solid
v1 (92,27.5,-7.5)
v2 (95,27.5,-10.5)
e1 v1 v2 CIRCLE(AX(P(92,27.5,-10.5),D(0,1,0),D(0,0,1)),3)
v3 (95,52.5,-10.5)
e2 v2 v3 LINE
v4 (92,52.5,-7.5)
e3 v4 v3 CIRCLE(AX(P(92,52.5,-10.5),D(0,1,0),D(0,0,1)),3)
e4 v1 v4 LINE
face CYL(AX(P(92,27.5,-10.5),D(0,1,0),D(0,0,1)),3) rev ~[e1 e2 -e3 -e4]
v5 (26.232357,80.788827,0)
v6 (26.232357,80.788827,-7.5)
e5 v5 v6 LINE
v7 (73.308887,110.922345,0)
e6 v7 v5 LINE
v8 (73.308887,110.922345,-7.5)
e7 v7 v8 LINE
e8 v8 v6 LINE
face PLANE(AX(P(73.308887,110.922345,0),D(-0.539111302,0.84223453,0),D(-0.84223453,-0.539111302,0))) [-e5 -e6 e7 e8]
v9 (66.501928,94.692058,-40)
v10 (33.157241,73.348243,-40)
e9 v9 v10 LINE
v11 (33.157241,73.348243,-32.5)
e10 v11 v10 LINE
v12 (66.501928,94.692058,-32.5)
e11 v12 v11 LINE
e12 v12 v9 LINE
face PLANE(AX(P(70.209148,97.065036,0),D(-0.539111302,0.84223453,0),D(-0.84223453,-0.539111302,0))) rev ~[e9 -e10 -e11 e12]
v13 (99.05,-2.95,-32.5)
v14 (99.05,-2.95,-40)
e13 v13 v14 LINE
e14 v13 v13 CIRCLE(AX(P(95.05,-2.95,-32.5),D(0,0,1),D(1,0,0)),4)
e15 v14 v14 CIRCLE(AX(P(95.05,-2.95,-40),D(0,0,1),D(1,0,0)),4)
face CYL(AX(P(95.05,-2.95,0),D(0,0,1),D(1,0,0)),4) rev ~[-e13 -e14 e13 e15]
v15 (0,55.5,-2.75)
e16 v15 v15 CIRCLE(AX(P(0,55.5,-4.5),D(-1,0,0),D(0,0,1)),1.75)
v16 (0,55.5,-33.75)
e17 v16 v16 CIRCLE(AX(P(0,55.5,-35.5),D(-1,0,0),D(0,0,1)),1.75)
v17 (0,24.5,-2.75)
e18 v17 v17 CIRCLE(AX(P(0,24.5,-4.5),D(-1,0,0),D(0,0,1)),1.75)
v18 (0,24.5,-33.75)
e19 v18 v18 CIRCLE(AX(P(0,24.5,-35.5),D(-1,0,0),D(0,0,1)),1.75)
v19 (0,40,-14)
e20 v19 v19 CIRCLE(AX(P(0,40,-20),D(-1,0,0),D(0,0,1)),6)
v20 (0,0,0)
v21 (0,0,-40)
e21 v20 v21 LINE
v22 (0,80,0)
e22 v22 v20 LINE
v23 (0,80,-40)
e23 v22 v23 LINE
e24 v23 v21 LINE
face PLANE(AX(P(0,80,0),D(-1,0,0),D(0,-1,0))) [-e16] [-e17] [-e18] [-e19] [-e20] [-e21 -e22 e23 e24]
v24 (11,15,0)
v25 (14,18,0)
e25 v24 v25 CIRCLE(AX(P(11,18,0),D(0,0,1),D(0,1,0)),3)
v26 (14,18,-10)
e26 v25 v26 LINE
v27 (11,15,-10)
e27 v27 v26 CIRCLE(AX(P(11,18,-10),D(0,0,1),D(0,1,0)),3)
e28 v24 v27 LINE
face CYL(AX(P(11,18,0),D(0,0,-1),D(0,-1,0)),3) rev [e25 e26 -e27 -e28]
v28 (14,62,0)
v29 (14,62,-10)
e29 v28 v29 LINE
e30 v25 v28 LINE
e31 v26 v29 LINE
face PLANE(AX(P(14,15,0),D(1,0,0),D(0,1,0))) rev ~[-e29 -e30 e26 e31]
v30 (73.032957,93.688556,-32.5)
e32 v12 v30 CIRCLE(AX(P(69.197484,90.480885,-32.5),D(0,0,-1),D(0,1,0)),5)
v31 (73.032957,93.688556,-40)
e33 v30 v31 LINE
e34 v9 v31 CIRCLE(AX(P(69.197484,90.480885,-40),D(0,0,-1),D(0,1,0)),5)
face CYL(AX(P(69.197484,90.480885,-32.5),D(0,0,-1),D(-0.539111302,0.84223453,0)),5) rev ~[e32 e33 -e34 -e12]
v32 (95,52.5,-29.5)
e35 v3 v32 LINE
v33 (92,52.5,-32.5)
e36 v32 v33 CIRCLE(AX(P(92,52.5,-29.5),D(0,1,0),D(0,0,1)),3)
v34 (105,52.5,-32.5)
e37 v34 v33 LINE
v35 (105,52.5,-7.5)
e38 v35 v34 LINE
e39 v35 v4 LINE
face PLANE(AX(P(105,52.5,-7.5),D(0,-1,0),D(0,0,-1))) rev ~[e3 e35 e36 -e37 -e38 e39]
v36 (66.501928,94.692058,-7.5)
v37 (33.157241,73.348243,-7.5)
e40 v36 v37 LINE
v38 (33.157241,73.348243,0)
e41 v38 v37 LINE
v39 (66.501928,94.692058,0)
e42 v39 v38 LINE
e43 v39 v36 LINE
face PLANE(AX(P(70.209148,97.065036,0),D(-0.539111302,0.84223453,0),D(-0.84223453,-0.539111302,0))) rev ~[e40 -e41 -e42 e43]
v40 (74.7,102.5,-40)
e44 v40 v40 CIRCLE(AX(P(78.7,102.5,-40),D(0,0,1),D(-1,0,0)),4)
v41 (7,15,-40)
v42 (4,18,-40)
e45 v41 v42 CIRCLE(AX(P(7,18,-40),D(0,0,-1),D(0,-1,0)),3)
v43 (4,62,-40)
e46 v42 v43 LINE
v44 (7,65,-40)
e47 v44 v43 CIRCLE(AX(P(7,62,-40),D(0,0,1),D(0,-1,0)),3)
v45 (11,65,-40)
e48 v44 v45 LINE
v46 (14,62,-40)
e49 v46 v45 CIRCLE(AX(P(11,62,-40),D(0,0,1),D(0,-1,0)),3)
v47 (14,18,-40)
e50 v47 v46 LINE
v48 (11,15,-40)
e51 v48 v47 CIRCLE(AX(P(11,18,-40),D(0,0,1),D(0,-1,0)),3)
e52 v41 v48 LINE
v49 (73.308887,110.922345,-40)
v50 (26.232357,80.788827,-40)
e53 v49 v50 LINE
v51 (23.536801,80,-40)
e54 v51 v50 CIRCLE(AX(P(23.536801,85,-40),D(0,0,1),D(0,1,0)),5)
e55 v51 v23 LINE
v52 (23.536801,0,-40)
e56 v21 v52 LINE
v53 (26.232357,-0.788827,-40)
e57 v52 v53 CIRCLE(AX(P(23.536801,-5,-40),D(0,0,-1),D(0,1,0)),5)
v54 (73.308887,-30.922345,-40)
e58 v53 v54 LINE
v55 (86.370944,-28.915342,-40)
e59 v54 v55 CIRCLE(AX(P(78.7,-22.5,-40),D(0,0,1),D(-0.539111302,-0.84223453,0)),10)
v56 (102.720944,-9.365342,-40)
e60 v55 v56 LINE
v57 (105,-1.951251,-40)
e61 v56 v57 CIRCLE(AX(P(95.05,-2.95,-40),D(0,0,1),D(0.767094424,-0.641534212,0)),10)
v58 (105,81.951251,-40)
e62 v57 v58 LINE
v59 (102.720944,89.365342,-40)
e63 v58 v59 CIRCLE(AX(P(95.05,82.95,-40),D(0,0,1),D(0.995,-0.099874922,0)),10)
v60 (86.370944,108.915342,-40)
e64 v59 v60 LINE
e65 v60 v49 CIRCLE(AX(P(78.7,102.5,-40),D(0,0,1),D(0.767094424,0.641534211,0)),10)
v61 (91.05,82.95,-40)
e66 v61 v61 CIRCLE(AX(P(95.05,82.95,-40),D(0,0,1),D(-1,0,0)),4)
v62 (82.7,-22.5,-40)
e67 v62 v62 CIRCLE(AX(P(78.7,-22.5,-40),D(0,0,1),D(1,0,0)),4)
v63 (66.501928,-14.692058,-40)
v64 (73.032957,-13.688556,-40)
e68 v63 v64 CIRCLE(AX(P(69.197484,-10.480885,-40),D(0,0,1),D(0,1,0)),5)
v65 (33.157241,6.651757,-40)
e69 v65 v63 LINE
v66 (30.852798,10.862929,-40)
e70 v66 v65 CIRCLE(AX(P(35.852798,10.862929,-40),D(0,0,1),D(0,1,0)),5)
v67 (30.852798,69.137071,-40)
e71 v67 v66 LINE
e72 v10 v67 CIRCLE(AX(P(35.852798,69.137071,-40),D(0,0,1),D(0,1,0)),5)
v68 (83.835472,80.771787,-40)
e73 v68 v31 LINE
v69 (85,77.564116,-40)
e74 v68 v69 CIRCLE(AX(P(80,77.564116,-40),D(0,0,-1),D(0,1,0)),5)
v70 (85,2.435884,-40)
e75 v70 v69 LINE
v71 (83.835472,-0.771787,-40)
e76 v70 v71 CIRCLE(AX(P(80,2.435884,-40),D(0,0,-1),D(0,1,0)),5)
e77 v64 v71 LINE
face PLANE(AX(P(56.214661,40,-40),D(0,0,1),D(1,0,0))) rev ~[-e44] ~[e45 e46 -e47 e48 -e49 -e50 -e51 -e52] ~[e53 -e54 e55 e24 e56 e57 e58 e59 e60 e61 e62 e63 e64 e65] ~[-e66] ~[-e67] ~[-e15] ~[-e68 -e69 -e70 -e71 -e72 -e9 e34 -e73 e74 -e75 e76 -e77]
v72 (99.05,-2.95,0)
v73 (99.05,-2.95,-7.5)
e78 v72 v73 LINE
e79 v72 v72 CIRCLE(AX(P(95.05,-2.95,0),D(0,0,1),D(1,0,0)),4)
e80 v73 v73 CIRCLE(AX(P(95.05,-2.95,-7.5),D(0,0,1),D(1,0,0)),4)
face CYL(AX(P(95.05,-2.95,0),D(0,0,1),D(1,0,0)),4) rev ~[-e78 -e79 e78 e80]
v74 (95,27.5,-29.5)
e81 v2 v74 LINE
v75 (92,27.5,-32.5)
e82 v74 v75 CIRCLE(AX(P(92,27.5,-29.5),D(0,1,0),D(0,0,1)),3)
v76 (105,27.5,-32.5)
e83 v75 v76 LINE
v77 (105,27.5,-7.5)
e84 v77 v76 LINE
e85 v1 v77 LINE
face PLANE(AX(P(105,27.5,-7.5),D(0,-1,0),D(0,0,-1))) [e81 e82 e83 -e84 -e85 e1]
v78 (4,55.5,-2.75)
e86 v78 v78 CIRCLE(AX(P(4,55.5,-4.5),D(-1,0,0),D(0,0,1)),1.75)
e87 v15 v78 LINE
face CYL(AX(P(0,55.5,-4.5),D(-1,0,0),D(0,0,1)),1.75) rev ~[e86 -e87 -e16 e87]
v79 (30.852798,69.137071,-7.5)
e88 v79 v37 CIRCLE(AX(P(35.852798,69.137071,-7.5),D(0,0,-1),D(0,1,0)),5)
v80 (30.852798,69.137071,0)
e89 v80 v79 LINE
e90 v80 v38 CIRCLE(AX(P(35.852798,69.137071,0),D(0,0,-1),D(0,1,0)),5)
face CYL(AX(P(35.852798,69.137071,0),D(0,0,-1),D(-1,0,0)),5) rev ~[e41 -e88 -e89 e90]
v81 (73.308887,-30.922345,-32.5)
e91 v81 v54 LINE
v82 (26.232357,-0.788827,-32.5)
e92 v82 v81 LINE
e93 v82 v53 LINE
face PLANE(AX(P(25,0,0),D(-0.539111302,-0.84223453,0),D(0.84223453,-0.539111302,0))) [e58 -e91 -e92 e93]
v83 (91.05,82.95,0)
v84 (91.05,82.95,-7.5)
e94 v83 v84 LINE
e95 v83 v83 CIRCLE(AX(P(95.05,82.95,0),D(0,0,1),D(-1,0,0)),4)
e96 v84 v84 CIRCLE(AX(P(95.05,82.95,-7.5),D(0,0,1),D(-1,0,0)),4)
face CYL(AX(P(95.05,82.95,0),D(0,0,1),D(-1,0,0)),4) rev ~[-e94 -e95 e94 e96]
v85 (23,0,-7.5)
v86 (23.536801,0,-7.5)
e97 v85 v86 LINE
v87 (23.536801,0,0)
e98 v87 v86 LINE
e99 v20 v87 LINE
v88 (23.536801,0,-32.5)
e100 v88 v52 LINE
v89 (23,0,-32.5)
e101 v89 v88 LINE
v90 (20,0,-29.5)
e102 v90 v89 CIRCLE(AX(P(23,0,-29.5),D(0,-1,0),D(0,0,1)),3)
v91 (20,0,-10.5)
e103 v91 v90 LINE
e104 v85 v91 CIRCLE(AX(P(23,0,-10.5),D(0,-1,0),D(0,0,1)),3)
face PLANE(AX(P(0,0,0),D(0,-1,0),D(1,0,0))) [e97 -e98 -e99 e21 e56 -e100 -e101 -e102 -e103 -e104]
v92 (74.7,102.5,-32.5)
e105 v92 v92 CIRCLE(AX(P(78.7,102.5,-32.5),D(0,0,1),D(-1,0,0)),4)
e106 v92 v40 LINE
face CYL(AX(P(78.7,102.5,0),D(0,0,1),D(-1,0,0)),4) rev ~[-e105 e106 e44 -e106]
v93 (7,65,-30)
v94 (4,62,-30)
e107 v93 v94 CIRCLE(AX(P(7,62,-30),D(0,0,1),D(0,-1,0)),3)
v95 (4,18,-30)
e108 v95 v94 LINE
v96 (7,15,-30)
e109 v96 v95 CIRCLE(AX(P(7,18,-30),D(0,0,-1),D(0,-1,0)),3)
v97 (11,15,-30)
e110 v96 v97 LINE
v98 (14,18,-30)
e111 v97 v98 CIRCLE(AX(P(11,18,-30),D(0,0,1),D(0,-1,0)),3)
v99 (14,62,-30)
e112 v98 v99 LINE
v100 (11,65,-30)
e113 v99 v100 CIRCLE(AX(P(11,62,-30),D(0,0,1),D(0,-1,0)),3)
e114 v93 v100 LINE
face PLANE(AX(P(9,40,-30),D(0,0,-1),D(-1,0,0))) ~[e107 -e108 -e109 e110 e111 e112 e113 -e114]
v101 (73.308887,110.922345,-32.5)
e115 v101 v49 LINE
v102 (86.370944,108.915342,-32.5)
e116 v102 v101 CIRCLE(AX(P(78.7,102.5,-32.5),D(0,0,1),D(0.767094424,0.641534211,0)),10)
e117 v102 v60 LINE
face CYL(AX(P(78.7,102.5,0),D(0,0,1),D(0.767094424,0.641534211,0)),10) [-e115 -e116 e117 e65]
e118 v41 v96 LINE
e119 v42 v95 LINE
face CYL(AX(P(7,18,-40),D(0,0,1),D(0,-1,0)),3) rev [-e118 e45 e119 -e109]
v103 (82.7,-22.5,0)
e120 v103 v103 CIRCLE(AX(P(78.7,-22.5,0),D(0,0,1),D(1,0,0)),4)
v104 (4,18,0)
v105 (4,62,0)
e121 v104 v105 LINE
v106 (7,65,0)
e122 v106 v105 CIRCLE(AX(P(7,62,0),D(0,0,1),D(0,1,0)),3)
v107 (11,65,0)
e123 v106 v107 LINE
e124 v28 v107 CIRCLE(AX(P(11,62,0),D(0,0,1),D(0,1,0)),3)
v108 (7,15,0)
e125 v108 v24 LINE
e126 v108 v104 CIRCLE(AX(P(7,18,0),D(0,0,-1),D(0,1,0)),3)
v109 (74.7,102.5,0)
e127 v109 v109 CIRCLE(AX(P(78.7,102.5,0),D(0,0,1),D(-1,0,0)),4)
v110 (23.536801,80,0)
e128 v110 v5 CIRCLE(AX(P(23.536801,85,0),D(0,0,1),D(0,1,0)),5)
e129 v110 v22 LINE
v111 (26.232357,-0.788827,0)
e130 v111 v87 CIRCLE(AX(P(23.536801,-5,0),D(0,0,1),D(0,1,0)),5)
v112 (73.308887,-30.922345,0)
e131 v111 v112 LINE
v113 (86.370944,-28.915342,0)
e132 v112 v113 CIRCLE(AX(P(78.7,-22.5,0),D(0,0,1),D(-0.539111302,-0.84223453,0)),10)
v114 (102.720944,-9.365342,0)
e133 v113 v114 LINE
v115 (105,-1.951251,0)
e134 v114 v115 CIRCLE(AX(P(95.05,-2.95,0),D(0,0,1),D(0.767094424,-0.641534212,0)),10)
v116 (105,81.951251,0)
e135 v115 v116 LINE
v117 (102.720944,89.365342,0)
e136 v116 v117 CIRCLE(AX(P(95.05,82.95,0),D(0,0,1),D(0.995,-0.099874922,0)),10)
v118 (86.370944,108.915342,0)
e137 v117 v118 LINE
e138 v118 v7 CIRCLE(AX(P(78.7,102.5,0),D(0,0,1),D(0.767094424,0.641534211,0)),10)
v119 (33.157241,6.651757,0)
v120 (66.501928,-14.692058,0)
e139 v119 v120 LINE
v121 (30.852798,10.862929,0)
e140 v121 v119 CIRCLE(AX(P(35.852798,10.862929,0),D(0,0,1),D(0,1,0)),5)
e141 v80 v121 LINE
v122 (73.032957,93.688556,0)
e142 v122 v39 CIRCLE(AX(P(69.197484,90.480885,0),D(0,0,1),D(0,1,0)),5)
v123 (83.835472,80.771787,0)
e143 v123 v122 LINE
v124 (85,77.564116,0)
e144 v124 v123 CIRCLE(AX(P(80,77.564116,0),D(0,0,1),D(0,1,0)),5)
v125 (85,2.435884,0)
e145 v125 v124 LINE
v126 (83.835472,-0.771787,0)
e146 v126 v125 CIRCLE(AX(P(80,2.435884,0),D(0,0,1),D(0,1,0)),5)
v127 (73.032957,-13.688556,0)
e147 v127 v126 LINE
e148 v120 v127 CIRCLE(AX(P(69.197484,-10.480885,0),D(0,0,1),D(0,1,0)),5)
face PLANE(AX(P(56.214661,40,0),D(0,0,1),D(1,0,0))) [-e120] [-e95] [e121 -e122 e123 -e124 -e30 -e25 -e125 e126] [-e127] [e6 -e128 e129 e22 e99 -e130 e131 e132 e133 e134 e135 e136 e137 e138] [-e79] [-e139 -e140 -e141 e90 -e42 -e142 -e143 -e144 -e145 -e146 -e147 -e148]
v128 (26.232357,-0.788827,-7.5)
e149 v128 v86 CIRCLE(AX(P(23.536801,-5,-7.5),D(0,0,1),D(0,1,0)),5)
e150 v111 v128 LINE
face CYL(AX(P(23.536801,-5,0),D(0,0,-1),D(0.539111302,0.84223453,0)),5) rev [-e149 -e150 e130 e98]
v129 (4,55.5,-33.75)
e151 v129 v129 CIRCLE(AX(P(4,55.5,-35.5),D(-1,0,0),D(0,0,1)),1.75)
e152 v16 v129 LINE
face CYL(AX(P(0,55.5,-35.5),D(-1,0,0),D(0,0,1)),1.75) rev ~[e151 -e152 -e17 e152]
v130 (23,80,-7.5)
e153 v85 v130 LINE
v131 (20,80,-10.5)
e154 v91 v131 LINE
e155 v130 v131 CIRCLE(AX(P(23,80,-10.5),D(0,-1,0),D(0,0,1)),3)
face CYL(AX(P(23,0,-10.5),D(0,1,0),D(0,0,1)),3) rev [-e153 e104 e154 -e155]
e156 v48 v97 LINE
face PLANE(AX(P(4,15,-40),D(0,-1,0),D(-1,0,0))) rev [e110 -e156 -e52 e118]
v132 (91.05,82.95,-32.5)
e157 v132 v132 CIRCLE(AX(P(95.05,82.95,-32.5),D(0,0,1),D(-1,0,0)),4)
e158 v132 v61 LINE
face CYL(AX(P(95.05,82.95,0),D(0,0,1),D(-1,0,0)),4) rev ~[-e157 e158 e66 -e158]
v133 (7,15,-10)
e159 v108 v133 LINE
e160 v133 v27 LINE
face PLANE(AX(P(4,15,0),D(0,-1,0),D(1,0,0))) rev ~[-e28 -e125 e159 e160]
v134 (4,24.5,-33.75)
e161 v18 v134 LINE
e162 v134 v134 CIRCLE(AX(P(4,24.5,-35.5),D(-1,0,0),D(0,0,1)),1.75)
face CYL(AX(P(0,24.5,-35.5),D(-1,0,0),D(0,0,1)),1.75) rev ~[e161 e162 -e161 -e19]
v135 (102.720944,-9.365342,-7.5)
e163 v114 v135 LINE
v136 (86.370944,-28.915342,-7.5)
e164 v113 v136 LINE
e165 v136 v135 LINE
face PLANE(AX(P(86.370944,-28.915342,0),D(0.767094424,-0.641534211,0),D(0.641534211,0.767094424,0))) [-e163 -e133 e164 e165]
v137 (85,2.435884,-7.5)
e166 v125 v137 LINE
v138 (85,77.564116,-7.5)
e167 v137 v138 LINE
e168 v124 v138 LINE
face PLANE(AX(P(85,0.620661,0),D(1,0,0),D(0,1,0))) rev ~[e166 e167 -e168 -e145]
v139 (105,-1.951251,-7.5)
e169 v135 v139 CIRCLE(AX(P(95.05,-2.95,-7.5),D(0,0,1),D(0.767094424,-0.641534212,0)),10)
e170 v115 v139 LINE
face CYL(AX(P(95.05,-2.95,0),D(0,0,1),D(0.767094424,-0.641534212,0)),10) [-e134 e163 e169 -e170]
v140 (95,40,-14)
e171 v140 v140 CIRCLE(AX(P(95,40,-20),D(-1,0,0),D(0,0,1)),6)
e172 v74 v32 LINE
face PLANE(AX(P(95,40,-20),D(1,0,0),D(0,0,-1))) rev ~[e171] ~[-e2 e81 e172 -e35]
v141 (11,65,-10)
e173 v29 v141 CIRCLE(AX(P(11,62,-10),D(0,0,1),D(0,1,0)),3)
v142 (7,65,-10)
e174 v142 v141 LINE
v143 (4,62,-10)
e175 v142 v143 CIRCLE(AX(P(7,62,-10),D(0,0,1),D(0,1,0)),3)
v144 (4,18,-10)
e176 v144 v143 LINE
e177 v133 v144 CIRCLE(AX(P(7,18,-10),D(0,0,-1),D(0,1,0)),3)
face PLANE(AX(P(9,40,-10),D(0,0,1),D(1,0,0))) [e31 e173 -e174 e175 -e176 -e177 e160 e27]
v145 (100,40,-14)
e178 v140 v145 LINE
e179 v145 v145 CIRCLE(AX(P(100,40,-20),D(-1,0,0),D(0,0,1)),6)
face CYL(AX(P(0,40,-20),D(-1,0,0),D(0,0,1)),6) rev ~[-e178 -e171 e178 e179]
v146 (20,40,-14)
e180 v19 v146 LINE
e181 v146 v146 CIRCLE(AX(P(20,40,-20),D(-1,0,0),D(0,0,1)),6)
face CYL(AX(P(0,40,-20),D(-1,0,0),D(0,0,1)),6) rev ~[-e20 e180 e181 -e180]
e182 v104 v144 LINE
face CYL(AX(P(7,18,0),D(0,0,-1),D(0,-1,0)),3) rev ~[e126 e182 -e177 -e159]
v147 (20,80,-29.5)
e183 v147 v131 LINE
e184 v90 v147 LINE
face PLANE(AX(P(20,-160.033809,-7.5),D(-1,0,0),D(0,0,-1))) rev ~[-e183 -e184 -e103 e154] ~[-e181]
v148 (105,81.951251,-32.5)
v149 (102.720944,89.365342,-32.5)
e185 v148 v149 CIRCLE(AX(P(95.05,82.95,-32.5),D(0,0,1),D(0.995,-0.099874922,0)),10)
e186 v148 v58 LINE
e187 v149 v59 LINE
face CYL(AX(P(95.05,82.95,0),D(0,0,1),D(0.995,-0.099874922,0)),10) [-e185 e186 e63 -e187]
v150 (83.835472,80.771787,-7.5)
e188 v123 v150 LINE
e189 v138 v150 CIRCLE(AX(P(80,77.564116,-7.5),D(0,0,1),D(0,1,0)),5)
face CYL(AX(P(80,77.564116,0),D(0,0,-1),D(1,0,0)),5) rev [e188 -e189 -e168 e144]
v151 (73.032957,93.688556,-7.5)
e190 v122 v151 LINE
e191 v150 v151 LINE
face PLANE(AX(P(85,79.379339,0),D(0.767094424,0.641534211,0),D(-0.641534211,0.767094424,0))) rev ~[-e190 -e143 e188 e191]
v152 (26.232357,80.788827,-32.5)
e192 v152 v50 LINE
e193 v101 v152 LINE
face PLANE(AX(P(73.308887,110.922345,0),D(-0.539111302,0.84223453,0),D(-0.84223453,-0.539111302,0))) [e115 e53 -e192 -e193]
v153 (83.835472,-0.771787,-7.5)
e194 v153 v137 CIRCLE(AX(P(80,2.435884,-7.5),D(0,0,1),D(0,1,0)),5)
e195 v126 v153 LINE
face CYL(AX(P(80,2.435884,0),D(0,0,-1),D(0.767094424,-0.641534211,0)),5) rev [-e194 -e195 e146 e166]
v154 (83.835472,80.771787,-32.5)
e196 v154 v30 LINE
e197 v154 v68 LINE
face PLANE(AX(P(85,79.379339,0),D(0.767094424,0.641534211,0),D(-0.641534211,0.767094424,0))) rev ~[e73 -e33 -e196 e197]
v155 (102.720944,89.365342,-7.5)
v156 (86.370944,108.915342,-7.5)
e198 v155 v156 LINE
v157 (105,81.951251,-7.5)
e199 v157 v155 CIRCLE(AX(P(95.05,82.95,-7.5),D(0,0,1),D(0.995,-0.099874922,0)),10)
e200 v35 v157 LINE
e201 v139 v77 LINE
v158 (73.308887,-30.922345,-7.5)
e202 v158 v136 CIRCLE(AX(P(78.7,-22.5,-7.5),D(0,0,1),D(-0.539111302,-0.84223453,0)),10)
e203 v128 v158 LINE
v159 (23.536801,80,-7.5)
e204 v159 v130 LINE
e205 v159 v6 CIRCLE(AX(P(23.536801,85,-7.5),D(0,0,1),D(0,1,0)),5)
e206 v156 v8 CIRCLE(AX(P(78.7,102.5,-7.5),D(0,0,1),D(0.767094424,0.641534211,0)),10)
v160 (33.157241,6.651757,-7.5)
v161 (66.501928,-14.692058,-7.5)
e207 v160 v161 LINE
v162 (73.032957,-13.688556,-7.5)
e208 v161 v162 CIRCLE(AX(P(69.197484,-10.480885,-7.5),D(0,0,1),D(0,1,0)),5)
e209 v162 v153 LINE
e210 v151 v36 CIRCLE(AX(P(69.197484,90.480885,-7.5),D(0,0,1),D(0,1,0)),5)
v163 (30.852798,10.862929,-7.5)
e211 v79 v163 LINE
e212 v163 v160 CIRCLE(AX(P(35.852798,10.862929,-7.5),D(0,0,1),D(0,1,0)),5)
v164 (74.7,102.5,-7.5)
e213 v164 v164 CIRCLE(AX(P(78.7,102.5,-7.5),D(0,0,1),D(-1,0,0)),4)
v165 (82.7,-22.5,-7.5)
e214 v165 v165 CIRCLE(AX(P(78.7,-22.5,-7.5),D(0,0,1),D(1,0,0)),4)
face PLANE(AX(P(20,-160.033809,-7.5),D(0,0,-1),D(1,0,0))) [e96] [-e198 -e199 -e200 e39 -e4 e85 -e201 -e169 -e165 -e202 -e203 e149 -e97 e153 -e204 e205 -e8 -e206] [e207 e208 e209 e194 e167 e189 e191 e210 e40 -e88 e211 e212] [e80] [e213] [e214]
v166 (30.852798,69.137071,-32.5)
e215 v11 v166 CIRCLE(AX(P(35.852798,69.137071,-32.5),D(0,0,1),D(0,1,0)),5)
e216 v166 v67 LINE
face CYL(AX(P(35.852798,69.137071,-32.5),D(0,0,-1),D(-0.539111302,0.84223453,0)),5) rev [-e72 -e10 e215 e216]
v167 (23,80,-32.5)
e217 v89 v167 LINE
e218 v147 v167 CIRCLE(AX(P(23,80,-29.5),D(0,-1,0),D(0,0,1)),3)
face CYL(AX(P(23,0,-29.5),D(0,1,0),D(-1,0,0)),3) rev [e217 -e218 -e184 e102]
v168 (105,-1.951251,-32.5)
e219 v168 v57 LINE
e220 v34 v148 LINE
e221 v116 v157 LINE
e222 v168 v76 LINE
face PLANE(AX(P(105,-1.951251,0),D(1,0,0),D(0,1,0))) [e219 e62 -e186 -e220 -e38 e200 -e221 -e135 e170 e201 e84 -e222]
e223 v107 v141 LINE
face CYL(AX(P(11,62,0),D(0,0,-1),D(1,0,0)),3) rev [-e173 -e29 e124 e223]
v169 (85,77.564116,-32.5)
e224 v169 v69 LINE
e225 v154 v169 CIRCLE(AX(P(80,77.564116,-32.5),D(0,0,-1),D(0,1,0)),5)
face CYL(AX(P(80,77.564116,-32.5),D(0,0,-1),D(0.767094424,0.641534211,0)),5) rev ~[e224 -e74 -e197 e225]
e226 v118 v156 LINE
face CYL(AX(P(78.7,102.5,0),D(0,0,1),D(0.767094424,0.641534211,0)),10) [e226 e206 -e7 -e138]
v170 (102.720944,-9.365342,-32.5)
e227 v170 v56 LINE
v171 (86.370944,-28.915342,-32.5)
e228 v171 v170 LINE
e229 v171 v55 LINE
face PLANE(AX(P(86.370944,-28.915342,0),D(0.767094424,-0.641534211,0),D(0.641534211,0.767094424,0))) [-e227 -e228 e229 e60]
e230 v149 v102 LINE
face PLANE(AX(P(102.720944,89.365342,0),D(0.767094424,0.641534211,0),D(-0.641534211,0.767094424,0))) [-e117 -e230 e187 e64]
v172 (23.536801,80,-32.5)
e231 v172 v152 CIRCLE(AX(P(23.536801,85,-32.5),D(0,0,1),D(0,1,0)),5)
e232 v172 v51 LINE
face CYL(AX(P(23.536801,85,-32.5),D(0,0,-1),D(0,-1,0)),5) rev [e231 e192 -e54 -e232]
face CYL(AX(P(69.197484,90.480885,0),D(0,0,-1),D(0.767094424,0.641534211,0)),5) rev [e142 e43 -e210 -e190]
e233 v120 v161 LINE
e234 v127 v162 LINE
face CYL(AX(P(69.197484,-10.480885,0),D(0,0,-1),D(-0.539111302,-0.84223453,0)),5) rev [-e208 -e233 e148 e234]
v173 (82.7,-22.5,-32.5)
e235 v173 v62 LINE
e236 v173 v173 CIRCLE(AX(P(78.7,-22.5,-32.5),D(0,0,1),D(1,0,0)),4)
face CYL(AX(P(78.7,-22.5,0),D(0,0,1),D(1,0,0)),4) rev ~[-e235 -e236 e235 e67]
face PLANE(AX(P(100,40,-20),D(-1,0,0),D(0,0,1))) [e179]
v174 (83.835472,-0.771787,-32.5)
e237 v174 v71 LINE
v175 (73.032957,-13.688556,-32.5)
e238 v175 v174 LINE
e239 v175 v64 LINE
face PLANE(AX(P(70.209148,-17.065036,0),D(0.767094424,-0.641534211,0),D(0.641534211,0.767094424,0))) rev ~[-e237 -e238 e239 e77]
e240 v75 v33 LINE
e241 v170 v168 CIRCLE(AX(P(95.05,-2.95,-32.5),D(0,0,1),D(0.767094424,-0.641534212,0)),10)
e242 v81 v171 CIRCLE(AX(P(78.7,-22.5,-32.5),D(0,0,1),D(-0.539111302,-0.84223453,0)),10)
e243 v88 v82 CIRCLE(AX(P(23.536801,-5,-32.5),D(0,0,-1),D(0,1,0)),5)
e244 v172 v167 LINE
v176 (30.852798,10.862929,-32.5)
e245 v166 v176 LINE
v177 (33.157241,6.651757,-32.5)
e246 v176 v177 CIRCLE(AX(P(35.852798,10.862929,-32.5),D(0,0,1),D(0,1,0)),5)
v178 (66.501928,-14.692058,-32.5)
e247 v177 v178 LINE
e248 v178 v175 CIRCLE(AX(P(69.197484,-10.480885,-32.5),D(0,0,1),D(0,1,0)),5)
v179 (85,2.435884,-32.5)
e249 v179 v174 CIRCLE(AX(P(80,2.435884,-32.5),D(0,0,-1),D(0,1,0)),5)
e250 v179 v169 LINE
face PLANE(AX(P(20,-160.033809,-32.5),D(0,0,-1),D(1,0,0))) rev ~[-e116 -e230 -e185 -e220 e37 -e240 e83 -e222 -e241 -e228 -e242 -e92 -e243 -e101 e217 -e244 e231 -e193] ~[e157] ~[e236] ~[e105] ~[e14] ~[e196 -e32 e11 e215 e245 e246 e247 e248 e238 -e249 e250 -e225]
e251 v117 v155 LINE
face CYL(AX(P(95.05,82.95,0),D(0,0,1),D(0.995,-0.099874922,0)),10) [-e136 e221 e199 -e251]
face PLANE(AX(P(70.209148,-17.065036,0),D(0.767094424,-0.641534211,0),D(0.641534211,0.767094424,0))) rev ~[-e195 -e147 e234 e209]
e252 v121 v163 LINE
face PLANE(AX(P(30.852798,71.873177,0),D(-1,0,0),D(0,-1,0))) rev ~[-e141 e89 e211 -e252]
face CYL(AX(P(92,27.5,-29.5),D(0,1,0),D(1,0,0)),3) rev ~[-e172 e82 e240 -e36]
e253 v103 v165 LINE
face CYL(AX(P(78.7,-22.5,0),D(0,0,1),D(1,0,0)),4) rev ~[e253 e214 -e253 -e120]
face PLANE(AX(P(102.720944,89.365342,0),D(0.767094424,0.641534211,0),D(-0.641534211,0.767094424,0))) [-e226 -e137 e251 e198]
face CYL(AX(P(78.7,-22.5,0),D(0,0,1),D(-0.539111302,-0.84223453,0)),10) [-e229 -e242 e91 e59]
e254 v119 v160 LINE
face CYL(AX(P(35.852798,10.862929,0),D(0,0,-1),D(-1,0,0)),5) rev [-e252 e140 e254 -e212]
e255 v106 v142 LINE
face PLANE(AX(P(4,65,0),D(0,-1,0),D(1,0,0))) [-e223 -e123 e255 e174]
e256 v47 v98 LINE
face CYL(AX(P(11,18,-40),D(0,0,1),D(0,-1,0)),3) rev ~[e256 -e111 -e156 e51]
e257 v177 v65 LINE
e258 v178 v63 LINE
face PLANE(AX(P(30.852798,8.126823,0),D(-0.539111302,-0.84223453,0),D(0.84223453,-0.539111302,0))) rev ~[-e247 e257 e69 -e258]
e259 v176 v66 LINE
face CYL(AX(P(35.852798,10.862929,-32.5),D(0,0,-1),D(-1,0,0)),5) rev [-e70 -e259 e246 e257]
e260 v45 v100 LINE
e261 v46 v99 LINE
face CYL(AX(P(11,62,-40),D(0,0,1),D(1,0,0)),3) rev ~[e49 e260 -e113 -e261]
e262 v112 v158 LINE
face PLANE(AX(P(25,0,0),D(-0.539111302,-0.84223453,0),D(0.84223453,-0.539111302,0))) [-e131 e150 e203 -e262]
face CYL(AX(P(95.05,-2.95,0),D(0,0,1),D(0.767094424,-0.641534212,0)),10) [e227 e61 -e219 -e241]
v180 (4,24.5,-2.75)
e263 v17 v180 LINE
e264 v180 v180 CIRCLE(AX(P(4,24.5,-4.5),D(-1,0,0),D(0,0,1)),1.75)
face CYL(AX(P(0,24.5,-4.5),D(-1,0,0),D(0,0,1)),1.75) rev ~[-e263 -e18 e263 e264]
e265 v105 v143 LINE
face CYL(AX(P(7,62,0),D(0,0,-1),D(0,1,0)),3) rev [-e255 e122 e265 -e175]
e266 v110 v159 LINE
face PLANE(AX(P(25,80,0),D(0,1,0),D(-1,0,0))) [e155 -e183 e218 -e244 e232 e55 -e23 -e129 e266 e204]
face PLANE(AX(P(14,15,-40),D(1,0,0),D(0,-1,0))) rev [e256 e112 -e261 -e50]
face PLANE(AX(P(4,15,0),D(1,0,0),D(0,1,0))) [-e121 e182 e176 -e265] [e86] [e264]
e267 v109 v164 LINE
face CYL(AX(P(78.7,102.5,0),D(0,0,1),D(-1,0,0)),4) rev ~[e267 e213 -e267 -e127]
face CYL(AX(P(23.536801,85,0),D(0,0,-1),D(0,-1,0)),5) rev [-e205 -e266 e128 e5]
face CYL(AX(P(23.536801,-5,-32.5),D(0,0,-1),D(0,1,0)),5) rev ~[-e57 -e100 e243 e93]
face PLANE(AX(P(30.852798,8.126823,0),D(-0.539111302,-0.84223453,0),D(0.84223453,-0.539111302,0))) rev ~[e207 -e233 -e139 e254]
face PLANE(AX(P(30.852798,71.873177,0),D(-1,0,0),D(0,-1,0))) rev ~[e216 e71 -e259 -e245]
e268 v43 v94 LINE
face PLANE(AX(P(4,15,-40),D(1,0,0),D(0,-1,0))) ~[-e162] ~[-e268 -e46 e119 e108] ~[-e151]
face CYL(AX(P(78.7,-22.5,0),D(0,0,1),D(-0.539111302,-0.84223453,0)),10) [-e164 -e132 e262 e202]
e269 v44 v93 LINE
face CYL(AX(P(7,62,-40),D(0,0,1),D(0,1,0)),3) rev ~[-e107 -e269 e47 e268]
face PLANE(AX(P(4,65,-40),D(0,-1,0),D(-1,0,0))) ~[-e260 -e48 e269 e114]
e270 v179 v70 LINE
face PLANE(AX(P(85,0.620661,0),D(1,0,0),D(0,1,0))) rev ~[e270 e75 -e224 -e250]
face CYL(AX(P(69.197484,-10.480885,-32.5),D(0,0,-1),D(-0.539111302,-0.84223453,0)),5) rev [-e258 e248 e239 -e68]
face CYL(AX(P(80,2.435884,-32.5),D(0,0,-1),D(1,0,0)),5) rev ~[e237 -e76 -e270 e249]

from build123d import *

# Parameters (mm, degrees)
SKETCH1_R               = 4
BOSS_EXTRUDE1_DEPTH     = 40
CUT_EXTRUDE1_DEPTH      = 160.033809299
CUT_EXTRUDE1_DEPTH_BACK = 160.033809299
SKETCH2_W               = 100
SKETCH2_H               = 25
SKETCH3_W               = 25
SKETCH3_H               = 25
BOSS_EXTRUDE2_DEPTH     = 10
SKETCH4_R               = 6
CUT_EXTRUDE2_DEPTH      = 100
FILLET1_R               = 5
FILLET2_R               = 3
SKETCH5_R               = 1.75
CUT_EXTRUDE3_DEPTH      = 10
SKETCH7_W               = 10
SKETCH7_H               = 50
CUT_EXTRUDE4_DEPTH      = 10
FILLET3_R               = 3
FILLET3_OF_MIRROR1_R    = 3


with BuildPart() as part:
    # Sketch1 → Boss-Extrude1 (new body)
    with BuildSketch(Plane.XY):
        with BuildLine():
            Line((25, 0), (73.308886978, -30.922345302))
            ThreePointArc((73.308886978, -30.922345302), (80.218691228, -32.384006119), (86.370944241, -28.915342115))
            Line((86.370944241, -28.915342115), (102.720944241, -9.365342115))
            ThreePointArc((102.720944241, -9.365342115), (104.608588105, -5.888263678), (105, -1.951250782))
            Line((105, -1.951250782), (105, 0))
            Line((105, 0), (105, 80))
            Line((105, 80), (105, 81.951250782))
            ThreePointArc((105, 81.951250782), (104.608588105, 85.888263678), (102.720944241, 89.365342115))
            Line((102.720944241, 89.365342115), (86.370944241, 108.915342115))
            ThreePointArc((86.370944241, 108.915342115), (80.218691228, 112.384006119), (73.308886978, 110.922345302))
            Line((73.308886978, 110.922345302), (25, 80))
            Line((25, 80), (0, 80))
            Line((0, 80), (0, 0))
            Line((0, 0), (25, 0))
        make_face()
        with Locations((78.7, -22.5)):
            Circle(SKETCH1_R, mode=Mode.SUBTRACT)
        with Locations((95.05, -2.95)):
            Circle(SKETCH1_R, mode=Mode.SUBTRACT)
        with Locations(Location((78.7, 102.5, 0), (0, 0, 180))):
            Circle(SKETCH1_R, mode=Mode.SUBTRACT)
        with Locations(Location((95.05, 82.95, 0), (0, 0, 180))):
            Circle(SKETCH1_R, mode=Mode.SUBTRACT)
        Polygon((30.852797713, 71.873177413), (30.852797713, 8.126822587), (70.209148437, -17.065036365), (85, 0.620660764), (85, 79.379339236), (70.209148437, 97.065036365), align=None, mode=Mode.SUBTRACT)
    extrude(amount=-BOSS_EXTRUDE1_DEPTH)

    # Sketch2 → Cut-Extrude1 (cut, two sides: drawn at the far end of the back side and taken through both)
    with BuildSketch(Plane(origin=(0, 0, 0), x_dir=(1, 0, 0), z_dir=(0, 1, 0)).offset(-CUT_EXTRUDE1_DEPTH_BACK)):
        with Locations((70, 20)):
            Rectangle(SKETCH2_W, SKETCH2_H)
    extrude(amount=CUT_EXTRUDE1_DEPTH + CUT_EXTRUDE1_DEPTH_BACK, mode=Mode.SUBTRACT)

    # Sketch3 → Boss-Extrude2 (add)
    with BuildSketch(Plane(origin=(105, 0, 0), x_dir=(0, 0, -1), z_dir=(1, 0, 0))):
        with Locations((20, 40)):
            Rectangle(SKETCH3_W, SKETCH3_H)
    extrude(amount=-BOSS_EXTRUDE2_DEPTH)

    # Sketch4 → Cut-Extrude2 (cut)
    with BuildSketch(Plane.ZY):
        with Locations((-20, 40)):
            Circle(SKETCH4_R)
    extrude(amount=-CUT_EXTRUDE2_DEPTH, mode=Mode.SUBTRACT)

    # Fillet1
    fillet1_edges = [part.edges().sort_by_distance(p)[0] for p in [
        (25, 80, -3.75),
        (25, 80, -36.25),
        (25, 0, -36.25),
        (85, 79.379339236, -36.25),
        (85, 0.620660764, -36.25),
        (70.209148437, -17.065036365, -36.25),
        (30.852797713, 8.126822587, -36.25),
        (30.852797713, 71.873177413, -36.25),
        (70.209148437, 97.065036365, -36.25),
        (70.209148437, 97.065036365, -3.75),
        (85, 79.379339236, -3.75),
        (30.852797713, 71.873177413, -3.75),
        (30.852797713, 8.126822587, -3.75),
        (70.209148437, -17.065036365, -3.75),
        (85, 0.620660764, -3.75),
        (25, 0, -3.75),
    ]]
    fillet(fillet1_edges, radius=FILLET1_R)

    # Fillet2
    fillet2_edges = [part.edges().sort_by_distance(p)[0] for p in [
        (20, 40, -32.5),
        (20, 40, -7.5),
        (95, 40, -32.5),
        (95, 40, -7.5),
    ]]
    fillet(fillet2_edges, radius=FILLET2_R)

    # Sketch5 → Cut-Extrude3 (cut)
    with BuildSketch(Plane.ZY):
        with Locations((-35.5, 55.5)):
            Circle(SKETCH5_R)
        with Locations((-4.5, 55.5)):
            Circle(SKETCH5_R)
        with Locations((-35.5, 24.5)):
            Circle(SKETCH5_R)
        with Locations((-4.5, 24.5)):
            Circle(SKETCH5_R)
    extrude(amount=-CUT_EXTRUDE3_DEPTH, mode=Mode.SUBTRACT)

    # Sketch7 → Cut-Extrude4 (cut)
    with BuildSketch(Plane.XY):
        with Locations((9, 40)):
            Rectangle(SKETCH7_W, SKETCH7_H)
    cut_extrude4 = extrude(amount=-CUT_EXTRUDE4_DEPTH, mode=Mode.SUBTRACT)

    # Fillet3
    fillet3_edges = [part.edges().sort_by_distance(p)[0] for p in [
        (4, 15, -5),
        (4, 65, -5),
        (14, 65, -5),
        (14, 15, -5),
    ]]
    fillet(fillet3_edges, radius=FILLET3_R)

    # Mirror1: Cut-Extrude4 across plane
    add(cut_extrude4.mirror(Plane.XY.offset(-20)), mode=Mode.SUBTRACT)

    # Fillet3 of Mirror1
    fillet3_of_mirror1_edges = [part.edges().sort_by_distance(p)[0] for p in [
        (4, 15, -35),
        (4, 65, -35),
        (14, 65, -35),
        (14, 15, -35),
    ]]
    fillet(fillet3_of_mirror1_edges, radius=FILLET3_OF_MIRROR1_R)


solid = part.part
